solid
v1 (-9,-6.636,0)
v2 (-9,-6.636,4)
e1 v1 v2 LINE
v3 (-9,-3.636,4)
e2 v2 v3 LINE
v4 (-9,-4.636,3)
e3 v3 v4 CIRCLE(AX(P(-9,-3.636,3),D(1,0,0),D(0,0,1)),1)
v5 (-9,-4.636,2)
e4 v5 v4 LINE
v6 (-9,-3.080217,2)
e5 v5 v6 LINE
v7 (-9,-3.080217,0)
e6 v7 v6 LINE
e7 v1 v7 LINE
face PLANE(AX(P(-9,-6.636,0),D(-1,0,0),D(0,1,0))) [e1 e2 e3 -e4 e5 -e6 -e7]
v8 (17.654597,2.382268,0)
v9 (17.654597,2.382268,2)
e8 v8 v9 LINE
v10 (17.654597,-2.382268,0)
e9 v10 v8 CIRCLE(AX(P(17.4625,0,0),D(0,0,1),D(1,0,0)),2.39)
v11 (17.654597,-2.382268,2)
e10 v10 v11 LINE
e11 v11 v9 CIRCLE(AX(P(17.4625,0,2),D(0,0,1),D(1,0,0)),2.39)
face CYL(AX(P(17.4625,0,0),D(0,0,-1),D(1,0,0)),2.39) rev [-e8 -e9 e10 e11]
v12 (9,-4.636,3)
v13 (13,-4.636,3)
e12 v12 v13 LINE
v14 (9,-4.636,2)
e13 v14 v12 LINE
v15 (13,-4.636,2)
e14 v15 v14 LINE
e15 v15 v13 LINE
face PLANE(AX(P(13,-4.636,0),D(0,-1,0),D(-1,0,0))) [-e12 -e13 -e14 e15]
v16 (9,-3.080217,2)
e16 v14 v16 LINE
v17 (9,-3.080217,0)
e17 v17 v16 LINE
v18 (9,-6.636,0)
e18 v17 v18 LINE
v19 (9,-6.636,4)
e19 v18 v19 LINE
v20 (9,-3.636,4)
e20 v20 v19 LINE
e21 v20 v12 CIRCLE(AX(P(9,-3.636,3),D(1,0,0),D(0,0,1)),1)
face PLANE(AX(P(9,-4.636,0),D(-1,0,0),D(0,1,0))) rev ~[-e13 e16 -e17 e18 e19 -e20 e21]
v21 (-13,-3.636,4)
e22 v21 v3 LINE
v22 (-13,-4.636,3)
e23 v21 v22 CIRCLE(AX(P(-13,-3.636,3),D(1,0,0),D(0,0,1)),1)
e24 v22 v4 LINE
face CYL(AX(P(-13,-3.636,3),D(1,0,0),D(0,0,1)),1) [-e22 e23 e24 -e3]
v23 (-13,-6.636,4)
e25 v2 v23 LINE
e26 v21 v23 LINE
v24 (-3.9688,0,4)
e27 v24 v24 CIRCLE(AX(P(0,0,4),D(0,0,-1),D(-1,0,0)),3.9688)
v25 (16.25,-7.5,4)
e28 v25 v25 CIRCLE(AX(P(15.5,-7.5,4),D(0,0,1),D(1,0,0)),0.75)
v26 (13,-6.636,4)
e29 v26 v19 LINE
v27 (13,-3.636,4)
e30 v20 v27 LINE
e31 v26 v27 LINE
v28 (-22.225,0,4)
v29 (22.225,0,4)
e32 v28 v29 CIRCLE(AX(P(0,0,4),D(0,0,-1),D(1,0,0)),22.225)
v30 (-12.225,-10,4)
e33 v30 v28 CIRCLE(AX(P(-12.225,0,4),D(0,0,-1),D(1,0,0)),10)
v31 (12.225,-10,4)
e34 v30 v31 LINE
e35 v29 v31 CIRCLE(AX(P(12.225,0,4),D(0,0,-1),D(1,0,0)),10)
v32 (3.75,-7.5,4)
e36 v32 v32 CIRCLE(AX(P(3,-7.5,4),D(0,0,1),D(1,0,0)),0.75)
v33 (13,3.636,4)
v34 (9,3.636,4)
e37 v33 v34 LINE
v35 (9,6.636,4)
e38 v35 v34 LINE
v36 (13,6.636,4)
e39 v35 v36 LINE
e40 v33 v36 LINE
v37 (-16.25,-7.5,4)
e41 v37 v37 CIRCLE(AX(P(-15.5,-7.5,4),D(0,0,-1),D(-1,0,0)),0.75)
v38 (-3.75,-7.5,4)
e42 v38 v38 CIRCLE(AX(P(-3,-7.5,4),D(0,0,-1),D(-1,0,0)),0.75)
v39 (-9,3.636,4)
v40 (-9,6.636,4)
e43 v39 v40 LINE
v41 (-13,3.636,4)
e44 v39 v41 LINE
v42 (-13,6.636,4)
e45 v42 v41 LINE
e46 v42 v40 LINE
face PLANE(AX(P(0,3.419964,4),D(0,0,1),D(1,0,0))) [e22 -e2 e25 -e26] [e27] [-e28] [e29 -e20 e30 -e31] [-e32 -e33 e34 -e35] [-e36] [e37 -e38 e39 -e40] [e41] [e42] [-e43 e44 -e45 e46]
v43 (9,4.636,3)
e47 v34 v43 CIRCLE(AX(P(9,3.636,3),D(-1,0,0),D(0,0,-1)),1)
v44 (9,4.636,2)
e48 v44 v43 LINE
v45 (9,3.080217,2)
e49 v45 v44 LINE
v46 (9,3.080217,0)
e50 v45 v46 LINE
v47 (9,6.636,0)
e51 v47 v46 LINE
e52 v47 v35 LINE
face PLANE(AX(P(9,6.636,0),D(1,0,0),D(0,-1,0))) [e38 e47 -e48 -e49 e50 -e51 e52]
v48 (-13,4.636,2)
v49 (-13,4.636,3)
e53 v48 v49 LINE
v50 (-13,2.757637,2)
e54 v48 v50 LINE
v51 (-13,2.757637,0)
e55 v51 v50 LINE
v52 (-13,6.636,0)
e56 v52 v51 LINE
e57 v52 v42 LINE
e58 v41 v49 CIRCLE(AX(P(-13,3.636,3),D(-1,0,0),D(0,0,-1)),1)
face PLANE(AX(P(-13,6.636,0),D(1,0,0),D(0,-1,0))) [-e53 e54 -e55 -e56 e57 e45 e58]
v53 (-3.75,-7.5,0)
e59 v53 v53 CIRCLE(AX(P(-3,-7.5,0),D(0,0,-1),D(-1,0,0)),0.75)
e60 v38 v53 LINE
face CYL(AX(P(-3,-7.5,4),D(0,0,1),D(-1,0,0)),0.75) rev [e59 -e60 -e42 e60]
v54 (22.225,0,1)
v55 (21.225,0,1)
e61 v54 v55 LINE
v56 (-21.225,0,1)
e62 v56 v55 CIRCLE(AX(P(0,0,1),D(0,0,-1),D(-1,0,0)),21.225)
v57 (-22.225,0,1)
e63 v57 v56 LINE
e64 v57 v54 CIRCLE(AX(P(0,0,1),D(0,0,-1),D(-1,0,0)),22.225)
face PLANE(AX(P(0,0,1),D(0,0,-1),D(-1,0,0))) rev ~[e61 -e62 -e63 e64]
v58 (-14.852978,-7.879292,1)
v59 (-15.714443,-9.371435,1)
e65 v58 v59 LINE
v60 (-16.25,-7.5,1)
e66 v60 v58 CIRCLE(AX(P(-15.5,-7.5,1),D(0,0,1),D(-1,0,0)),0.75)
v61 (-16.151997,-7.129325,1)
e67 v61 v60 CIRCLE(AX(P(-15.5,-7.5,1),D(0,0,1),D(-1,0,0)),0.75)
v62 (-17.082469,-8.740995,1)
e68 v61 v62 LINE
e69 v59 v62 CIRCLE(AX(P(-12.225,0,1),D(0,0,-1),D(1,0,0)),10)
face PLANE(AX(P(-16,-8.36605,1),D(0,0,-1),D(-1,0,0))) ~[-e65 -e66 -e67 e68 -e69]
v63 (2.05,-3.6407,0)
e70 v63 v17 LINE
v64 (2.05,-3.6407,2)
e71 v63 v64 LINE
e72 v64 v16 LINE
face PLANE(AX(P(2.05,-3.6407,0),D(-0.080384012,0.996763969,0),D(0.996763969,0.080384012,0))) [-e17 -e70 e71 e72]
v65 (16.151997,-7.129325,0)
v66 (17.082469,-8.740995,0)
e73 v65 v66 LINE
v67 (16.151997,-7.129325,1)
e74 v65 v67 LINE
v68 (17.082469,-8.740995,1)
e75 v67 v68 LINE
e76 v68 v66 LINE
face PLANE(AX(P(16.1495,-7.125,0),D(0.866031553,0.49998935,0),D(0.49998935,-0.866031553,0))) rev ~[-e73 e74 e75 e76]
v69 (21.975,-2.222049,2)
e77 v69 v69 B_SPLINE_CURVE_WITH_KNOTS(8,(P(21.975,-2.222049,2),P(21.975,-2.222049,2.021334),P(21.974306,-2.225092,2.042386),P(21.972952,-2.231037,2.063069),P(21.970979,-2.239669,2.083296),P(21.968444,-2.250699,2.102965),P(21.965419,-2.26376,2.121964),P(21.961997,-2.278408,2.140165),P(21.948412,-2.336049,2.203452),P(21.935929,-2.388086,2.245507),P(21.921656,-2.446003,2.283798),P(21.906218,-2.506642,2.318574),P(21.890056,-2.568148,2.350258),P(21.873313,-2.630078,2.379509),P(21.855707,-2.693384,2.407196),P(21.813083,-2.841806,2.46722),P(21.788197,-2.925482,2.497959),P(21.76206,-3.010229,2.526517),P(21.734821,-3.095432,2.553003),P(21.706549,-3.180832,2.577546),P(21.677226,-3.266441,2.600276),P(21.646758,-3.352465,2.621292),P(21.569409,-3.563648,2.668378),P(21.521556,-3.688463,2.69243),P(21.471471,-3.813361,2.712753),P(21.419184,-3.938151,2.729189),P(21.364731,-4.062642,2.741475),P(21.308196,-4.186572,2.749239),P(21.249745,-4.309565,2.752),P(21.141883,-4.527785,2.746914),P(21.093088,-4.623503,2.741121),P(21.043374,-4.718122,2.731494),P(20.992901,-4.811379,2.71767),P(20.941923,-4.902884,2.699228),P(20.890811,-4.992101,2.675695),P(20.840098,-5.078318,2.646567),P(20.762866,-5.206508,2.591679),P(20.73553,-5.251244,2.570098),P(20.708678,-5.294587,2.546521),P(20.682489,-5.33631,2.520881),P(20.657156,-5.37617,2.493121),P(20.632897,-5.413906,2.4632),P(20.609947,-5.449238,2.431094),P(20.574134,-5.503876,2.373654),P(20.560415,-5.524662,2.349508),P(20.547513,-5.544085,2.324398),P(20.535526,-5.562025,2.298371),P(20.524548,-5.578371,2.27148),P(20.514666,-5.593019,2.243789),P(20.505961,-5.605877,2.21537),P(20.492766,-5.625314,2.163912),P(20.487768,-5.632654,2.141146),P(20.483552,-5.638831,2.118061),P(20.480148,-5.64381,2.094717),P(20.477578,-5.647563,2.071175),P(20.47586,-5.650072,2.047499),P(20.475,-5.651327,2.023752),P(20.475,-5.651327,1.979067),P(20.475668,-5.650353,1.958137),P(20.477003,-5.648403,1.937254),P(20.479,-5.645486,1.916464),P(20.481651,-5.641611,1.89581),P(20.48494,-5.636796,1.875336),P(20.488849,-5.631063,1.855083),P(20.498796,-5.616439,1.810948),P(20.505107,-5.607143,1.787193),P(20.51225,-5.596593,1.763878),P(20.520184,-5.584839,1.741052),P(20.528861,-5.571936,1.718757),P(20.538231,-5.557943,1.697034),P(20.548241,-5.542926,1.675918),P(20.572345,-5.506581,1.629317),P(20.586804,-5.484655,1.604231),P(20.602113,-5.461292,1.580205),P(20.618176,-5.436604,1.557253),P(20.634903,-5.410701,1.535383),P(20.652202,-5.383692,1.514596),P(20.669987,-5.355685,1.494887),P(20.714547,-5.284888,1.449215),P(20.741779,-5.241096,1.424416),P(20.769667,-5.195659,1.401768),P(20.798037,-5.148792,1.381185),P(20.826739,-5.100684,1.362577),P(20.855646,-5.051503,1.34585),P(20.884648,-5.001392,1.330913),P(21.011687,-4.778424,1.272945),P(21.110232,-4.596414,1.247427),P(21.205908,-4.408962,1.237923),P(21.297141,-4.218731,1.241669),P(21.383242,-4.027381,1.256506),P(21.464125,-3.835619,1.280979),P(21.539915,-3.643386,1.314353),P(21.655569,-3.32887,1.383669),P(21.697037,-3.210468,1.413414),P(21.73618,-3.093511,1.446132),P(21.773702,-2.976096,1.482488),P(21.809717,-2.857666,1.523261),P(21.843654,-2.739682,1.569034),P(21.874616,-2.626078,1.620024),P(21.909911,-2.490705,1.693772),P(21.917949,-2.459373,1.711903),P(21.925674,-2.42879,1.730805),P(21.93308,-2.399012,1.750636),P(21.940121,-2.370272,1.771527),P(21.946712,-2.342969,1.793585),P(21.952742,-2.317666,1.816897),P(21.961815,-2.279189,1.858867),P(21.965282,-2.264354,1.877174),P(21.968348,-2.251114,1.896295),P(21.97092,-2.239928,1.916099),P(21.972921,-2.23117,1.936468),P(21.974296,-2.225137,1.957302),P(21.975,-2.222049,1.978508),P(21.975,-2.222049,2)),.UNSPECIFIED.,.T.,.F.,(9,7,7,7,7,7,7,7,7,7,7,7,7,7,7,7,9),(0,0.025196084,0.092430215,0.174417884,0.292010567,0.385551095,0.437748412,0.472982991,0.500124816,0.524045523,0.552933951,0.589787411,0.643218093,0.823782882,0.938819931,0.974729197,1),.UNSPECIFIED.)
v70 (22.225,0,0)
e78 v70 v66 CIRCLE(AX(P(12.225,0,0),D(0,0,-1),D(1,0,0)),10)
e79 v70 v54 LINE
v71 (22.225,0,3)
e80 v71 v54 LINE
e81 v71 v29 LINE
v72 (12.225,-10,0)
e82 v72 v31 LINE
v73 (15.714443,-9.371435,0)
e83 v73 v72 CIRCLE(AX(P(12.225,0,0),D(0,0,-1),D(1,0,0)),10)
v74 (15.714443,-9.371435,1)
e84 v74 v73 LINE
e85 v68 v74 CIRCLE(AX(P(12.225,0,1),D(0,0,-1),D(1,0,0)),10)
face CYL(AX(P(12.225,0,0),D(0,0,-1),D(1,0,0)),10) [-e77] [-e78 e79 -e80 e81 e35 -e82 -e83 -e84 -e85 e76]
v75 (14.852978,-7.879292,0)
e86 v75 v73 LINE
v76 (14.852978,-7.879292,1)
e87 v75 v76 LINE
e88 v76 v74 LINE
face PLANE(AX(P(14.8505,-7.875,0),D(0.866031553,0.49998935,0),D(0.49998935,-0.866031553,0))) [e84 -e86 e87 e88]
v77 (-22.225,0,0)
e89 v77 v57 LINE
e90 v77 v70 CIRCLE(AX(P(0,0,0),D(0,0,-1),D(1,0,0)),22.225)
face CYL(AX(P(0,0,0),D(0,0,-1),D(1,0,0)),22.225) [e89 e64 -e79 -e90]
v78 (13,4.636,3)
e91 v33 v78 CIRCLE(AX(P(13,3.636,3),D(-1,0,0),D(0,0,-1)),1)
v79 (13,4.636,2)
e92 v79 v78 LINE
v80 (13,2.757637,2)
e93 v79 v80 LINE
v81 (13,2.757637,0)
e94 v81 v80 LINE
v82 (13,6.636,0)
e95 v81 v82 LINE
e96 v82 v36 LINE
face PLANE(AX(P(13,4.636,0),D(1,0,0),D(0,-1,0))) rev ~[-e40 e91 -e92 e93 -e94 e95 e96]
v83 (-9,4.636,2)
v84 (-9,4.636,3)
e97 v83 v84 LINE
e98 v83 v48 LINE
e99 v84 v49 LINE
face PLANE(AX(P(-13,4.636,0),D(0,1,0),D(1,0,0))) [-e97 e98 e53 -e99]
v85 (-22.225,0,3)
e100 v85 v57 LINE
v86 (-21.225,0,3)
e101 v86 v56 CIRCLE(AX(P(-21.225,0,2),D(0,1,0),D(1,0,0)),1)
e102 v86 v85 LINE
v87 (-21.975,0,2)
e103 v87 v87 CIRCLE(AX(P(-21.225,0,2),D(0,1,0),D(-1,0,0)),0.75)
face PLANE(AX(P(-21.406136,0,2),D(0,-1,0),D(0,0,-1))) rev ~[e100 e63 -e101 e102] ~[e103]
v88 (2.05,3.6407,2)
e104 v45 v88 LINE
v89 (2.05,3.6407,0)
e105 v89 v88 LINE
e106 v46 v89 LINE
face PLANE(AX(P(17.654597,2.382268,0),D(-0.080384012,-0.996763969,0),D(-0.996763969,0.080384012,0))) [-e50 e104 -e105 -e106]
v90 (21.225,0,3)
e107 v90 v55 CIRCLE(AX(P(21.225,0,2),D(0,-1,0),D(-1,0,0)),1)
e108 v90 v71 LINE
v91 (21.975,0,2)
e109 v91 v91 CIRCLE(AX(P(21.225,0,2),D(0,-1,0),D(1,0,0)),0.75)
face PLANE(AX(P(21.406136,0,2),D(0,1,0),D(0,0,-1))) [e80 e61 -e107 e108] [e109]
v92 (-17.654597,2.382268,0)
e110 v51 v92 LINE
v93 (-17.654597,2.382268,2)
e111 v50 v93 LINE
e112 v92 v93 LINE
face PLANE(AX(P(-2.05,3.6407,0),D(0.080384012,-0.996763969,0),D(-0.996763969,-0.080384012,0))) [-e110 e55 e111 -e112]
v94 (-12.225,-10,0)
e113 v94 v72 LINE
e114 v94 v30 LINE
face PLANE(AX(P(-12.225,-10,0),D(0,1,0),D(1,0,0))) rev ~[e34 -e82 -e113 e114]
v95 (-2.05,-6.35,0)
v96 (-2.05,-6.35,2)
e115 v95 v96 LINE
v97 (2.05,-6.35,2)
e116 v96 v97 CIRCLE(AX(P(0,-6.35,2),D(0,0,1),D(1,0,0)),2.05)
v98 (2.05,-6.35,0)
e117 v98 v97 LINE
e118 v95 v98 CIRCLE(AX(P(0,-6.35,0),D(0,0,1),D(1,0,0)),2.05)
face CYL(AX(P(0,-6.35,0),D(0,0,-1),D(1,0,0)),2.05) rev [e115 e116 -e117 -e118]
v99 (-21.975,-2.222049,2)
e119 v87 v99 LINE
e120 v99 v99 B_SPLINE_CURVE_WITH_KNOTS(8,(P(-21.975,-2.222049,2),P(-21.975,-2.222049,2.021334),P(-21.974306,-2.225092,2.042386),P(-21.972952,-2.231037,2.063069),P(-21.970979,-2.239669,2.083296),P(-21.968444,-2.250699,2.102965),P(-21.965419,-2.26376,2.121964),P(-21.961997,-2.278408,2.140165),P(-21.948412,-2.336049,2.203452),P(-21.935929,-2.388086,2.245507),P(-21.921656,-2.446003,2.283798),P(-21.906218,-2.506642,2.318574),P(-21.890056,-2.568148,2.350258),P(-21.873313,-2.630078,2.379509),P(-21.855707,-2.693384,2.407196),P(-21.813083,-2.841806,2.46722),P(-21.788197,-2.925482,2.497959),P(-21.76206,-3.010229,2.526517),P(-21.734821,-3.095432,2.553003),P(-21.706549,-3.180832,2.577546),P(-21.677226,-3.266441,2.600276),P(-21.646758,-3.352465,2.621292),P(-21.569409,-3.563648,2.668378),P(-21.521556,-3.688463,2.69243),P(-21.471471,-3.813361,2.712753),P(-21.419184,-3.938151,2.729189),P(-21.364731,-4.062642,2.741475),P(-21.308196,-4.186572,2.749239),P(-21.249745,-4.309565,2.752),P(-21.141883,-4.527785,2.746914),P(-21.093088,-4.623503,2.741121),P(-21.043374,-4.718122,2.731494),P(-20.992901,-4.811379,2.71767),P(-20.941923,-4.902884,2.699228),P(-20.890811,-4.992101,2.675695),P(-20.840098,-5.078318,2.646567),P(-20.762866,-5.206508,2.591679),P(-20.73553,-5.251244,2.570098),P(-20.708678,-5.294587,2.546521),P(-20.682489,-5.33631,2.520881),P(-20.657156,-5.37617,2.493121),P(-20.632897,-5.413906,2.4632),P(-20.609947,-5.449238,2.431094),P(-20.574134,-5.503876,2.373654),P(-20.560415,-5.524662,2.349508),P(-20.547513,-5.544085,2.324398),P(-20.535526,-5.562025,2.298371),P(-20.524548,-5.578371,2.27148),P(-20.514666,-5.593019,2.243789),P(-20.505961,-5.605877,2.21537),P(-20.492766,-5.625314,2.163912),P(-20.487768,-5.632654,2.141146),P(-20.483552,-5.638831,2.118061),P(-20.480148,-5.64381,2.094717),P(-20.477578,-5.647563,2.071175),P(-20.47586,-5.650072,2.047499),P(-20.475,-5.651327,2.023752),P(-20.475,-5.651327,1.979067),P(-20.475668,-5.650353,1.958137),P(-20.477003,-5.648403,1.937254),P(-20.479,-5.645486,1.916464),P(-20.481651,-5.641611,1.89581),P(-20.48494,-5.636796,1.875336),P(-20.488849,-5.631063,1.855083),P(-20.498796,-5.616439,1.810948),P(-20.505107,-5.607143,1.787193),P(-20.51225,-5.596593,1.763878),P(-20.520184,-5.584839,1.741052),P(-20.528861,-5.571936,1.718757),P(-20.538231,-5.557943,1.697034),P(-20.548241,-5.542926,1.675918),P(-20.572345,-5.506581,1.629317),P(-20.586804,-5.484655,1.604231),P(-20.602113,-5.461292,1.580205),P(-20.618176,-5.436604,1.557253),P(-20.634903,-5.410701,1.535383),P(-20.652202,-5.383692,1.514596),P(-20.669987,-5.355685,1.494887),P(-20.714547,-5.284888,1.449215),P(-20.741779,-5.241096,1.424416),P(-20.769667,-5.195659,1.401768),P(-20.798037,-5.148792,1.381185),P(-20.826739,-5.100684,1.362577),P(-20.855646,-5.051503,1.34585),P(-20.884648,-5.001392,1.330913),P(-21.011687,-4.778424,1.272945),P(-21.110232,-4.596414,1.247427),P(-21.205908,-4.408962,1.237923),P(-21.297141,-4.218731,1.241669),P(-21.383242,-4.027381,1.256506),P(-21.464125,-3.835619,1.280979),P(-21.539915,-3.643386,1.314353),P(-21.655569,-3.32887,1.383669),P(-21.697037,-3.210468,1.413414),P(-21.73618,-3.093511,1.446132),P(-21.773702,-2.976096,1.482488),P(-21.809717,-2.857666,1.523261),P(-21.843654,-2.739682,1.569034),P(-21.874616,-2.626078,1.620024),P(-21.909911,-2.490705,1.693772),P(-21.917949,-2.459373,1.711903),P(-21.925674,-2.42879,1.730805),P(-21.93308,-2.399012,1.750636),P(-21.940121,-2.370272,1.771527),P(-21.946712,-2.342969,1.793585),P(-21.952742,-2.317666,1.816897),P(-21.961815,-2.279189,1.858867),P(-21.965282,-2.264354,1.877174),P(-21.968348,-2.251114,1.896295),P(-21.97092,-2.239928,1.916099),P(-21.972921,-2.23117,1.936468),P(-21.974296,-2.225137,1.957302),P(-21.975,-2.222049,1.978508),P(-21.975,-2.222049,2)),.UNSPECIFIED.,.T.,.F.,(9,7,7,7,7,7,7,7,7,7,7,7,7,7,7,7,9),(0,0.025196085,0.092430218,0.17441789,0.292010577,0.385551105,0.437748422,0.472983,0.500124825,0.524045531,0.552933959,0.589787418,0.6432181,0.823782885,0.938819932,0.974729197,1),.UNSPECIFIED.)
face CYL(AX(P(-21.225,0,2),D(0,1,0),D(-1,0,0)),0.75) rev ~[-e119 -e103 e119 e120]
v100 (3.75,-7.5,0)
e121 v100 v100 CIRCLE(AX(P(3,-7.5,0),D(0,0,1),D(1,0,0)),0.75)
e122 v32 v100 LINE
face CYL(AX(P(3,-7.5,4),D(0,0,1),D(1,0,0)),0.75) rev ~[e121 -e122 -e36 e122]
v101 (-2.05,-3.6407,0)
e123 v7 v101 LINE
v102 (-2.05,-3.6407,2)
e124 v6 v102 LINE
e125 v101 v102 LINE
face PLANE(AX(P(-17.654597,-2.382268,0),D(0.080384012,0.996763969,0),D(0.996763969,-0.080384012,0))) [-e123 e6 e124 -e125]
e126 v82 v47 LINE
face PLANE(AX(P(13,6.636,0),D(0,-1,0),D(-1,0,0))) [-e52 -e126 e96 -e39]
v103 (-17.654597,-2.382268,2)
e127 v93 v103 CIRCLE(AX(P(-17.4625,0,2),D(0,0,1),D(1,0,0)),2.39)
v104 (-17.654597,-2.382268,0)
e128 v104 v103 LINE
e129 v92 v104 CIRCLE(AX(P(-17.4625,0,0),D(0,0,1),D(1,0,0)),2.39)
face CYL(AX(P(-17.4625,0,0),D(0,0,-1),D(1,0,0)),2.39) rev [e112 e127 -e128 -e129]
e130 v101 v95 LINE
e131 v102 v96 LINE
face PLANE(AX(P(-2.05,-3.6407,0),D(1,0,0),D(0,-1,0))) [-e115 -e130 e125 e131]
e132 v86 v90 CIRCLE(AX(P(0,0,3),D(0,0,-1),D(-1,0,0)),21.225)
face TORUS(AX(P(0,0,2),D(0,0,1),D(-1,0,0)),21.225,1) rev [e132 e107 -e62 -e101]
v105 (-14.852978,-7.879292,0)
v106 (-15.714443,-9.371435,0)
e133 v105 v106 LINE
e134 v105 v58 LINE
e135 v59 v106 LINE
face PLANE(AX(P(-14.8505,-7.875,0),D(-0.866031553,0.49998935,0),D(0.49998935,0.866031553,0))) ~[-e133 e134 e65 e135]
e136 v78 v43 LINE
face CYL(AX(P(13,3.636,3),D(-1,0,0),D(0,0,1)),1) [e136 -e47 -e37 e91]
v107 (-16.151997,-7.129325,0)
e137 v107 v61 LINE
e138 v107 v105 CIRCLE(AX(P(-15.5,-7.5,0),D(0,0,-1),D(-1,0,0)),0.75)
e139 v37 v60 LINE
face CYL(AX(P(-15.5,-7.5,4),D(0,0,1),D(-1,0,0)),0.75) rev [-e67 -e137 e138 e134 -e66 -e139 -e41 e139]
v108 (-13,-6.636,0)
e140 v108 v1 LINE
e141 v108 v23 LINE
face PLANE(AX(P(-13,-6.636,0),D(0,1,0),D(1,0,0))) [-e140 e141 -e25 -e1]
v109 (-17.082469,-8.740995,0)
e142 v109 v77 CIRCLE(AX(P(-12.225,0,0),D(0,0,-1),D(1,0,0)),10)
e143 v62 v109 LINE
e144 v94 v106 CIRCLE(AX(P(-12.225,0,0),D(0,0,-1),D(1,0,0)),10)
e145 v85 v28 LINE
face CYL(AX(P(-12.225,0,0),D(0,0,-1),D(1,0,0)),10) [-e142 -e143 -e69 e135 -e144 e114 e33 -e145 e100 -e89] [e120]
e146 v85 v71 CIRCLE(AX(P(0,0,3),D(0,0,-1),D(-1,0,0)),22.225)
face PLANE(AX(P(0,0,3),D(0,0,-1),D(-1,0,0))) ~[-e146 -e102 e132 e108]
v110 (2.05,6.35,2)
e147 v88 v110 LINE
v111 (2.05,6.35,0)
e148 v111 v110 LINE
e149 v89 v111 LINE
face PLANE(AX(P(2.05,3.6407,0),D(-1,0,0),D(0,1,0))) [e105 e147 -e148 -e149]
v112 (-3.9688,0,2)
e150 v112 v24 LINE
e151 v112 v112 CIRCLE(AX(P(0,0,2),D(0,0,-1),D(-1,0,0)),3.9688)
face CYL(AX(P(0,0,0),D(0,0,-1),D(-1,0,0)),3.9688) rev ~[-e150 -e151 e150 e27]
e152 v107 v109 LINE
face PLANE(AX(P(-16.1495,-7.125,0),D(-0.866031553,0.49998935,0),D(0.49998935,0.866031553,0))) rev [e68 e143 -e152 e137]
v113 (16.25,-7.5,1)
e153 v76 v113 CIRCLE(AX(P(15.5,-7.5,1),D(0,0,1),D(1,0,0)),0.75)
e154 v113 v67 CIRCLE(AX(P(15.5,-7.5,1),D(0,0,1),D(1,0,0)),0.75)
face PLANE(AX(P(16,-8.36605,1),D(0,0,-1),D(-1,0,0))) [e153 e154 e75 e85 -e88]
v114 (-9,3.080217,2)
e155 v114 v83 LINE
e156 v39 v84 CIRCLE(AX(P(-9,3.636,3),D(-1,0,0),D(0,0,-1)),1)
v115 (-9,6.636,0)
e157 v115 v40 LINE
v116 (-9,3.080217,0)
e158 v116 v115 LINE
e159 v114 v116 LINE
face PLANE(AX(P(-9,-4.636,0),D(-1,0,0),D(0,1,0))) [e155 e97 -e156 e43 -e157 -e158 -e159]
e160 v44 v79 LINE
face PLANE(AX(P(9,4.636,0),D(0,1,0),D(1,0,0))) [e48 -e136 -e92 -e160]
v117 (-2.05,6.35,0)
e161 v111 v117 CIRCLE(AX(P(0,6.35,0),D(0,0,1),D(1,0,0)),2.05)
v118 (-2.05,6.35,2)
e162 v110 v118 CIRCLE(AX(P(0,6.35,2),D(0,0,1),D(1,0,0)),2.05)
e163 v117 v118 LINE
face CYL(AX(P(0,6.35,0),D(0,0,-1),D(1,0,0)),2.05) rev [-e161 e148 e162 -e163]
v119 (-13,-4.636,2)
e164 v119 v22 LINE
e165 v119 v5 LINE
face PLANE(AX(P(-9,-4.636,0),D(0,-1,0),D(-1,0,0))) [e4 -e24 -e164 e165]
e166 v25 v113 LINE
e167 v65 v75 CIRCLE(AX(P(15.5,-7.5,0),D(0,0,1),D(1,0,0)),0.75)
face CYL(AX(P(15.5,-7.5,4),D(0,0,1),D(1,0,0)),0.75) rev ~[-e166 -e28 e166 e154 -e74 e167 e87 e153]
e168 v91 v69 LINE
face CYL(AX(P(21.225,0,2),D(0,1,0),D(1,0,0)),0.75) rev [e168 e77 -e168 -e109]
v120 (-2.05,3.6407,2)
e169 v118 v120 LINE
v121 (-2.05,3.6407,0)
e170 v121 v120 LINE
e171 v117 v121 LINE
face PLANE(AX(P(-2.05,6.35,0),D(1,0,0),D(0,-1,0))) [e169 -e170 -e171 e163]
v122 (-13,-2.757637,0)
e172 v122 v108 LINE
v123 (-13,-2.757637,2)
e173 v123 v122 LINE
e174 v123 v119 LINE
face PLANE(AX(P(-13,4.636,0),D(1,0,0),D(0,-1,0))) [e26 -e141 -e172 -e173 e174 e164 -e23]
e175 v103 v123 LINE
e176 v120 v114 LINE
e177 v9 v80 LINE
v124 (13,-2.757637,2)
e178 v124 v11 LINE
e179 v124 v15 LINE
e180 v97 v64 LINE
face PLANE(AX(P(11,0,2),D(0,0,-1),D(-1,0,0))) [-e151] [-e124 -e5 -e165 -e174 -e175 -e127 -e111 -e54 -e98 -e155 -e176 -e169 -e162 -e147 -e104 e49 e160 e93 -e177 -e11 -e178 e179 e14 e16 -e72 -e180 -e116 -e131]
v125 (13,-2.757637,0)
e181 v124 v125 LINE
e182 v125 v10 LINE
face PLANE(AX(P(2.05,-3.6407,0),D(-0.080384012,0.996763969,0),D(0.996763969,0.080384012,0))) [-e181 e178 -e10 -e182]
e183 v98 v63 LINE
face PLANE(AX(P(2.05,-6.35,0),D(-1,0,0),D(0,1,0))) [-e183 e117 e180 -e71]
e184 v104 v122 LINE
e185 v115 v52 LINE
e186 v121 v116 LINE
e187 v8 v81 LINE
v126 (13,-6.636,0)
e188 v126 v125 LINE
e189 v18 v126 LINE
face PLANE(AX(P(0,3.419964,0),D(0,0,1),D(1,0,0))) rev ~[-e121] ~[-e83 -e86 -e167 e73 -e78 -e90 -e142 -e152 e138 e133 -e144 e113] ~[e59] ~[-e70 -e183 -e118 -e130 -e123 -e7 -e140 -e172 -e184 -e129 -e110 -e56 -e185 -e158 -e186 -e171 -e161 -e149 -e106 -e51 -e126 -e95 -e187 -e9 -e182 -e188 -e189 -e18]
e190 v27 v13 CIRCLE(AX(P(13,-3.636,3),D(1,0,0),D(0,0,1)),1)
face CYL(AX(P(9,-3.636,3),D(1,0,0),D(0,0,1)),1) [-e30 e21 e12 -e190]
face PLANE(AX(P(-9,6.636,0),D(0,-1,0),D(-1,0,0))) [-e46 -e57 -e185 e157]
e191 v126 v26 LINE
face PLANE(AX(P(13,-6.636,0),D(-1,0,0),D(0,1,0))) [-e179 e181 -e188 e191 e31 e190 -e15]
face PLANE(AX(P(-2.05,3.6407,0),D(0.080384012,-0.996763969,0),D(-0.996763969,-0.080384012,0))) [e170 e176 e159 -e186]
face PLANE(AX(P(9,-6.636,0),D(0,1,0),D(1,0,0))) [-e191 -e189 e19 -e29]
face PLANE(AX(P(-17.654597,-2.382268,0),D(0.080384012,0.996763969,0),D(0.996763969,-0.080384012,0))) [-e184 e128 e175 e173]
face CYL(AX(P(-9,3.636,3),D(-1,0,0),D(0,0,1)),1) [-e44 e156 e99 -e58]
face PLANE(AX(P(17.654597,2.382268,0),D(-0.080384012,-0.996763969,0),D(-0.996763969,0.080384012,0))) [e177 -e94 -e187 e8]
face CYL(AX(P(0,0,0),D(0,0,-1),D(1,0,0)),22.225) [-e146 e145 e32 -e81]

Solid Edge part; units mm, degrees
sketch "Sketch1" plane through (0, 0, 0) normal (0, 0, 1) x (1, 0, 0)
  line L0 (-12.225, -10) -> (12.225, -10)
  arc A0 (-22.225, 0) -> (22.225, 0) centre (0, 0) cw
  arc A1 (22.225, 0) -> (12.225, -10) centre (12.225, 0) cw
  arc A2 (-12.225, -10) -> (-22.225, 0) centre (-12.225, 0) cw
extrude "Protrusion1" add sketch "Sketch1" along normal blind 4
sketch "Sketch2" plane through (0, 0, 0) normal (0, 0, 1) x (1, 0, 0)
  line L0 (2.05, -3.6407) -> (17.6546, -2.3823)
  arc A0 (17.6546, -2.3823) -> (17.6546, 2.3823) centre (17.4625, 0) ccw
  line L1 (17.6546, 2.3823) -> (2.05, 3.6407)
  line L2 (2.05, 3.6407) -> (2.05, 6.35)
  arc A1 (2.05, 6.35) -> (-2.05, 6.35) centre (0, 6.35) ccw
  line L3 (-2.05, 6.35) -> (-2.05, 3.6407)
  line L4 (-2.05, 3.6407) -> (-17.6546, 2.3823)
  arc A2 (-17.6546, 2.3823) -> (-17.6546, -2.3823) centre (-17.4625, 0) ccw
  line L5 (-17.6546, -2.3823) -> (-2.05, -3.6407)
  line L6 (-2.05, -3.6407) -> (-2.05, -6.35)
  arc A3 (-2.05, -6.35) -> (2.05, -6.35) centre (0, -6.35) ccw
  line L7 (2.05, -6.35) -> (2.05, -3.6407)
extrude "ExtrudedCutout_1" cut sketch "Sketch2" along normal blind 2
sketch "Sketch3" plane through (0, 6.1125, 0) normal (0, 0, -1) x (1, 0, 0)
  line L0 (-13, 12.7485) -> (-9, 12.7485)
  line L1 (-9, 12.7485) -> (-9, 10.7485)
  line L2 (-9, 10.7485) -> (-13, 10.7485)
  line L3 (-13, 10.7485) -> (-13, 12.7485)
  line L4 (-13, -0.5235) -> (-13, 1.4765)
  line L5 (-13, 1.4765) -> (-9, 1.4765)
  line L6 (-9, 1.4765) -> (-9, -0.5235)
  line L7 (-9, -0.5235) -> (-13, -0.5235)
  line L8 (13, -0.5235) -> (9, -0.5235)
  line L9 (9, -0.5235) -> (9, 1.4765)
  line L10 (9, 1.4765) -> (13, 1.4765)
  line L11 (13, 1.4765) -> (13, -0.5235)
  line L12 (9, 12.7485) -> (13, 12.7485)
  line L13 (13, 12.7485) -> (13, 10.7485)
  line L14 (13, 10.7485) -> (9, 10.7485)
  line L15 (9, 10.7485) -> (9, 12.7485)
  dimension "D1" = 4
  dimension "D2" = 2
  dimension "D3" = 22
  dimension "D4" = 4
  dimension "D5" = 2
  dimension "D6" = 4
  dimension "D7" = 2
  dimension "D8" = 4
  dimension "D9" = 2
extrude "Cutout1" cut sketch "Sketch3" against normal through all
fillet "Round_1" radius 1 8 edges at (11, 4.636, 0) (11, -4.636, 0) (11, -4.636, 4) (11, 4.636, 4) (-11, 4.636, 4) (-11, -4.636, 4) (-11, -4.636, 0) (-11, 4.636, 0)
sketch "Sketch4" plane through (0, 0, 0) normal (0, -1, 0) x (1, 0, 0)
  line L0 (-22.225, 1) -> (-21.225, 1)
  line L1 (-22.225, 3) -> (-22.225, 1)
  line L2 (-21.225, 3) -> (-22.225, 3)
  arc A0 (-21.225, 3) -> (-21.225, 1) centre (-21.225, 2) cw
revolve "RevolvedCutout_1" cut sketch "Sketch4" angle 180 about axis through (0, 0, 0) along (0, 0, -1)
sketch "Sketch5" plane through (-21.475, 0, 2) normal (0, 1, 0) x (-1, 0, 0)
  circle A0 centre (-0.25, 0) radius 0.75
extrude "Cutout2" cut sketch "Sketch5" against normal through all
mirror "Mirror1" about plane through (0, 0, 0) normal (1, 0, 0) of "Cutout2"
sketch "Sketch6" plane through (0, 0, 0) normal (0, 0, -1) x (-1, 0, 0)
  circle A0 centre (0, 0) radius 3.9688
extrude "Cutout4" cut sketch "Sketch6" against normal up to vertex (4 mm away)
sketch "Sketch7" plane through (0, 6.1125, 0) normal (0, 0, -1) x (1, 0, 0)
  line L0 (-9, 10.7485) -> (-9, 1.4765)
  line L1 (-9, 1.4765) -> (-13, 1.4765)
  line L2 (-13, 1.4765) -> (-13, 10.7485)
  line L3 (-13, 10.7485) -> (-9, 10.7485)
  line L4 (9, 10.7485) -> (9, 1.4765)
  line L5 (9, 1.4765) -> (13, 1.4765)
  line L6 (13, 1.4765) -> (13, 10.7485)
  line L7 (13, 10.7485) -> (9, 10.7485)
extrude "Cutout5" cut sketch "Sketch7" against normal up to vertex (2 mm away)
sketch "Sketch8" plane through (0, 6.1125, 4) normal (0, 0, 1) x (1, 0, 0)
  circle A0 centre (15.5, -13.6125) radius 0.75
  circle A1 centre (3, -13.6125) radius 0.75
  dimension "D1" = 1.5
  dimension "D2" = 15.5
  dimension "D3" = 7.5
  dimension "D4" = 3
extrude "ExtrudedCutout_9" cut sketch "Sketch8" against normal blind 4
mirror "Mirror2" about plane through (0, 0, 0) normal (1, 0, 0) of "ExtrudedCutout_9"
sketch "Sketch9" plane through (0, 6.1125, 0) normal (0, 0, -1) x (1, 0, 0)
  line L0 (16.1495, 13.2375) -> (17.1495, 14.9696)
  line L1 (15.8505, 15.7196) -> (17.1495, 14.9696)
  line L2 (14.8505, 13.9875) -> (15.8505, 15.7196)
  line L3 (16.1495, 13.2375) -> (14.8505, 13.9875)
extrude "ExtrudedCutout_12" cut sketch "Sketch9" against normal blind 1
mirror "Mirror3" about plane through (0, 0, 0) normal (1, 0, 0) of "ExtrudedCutout_12"
